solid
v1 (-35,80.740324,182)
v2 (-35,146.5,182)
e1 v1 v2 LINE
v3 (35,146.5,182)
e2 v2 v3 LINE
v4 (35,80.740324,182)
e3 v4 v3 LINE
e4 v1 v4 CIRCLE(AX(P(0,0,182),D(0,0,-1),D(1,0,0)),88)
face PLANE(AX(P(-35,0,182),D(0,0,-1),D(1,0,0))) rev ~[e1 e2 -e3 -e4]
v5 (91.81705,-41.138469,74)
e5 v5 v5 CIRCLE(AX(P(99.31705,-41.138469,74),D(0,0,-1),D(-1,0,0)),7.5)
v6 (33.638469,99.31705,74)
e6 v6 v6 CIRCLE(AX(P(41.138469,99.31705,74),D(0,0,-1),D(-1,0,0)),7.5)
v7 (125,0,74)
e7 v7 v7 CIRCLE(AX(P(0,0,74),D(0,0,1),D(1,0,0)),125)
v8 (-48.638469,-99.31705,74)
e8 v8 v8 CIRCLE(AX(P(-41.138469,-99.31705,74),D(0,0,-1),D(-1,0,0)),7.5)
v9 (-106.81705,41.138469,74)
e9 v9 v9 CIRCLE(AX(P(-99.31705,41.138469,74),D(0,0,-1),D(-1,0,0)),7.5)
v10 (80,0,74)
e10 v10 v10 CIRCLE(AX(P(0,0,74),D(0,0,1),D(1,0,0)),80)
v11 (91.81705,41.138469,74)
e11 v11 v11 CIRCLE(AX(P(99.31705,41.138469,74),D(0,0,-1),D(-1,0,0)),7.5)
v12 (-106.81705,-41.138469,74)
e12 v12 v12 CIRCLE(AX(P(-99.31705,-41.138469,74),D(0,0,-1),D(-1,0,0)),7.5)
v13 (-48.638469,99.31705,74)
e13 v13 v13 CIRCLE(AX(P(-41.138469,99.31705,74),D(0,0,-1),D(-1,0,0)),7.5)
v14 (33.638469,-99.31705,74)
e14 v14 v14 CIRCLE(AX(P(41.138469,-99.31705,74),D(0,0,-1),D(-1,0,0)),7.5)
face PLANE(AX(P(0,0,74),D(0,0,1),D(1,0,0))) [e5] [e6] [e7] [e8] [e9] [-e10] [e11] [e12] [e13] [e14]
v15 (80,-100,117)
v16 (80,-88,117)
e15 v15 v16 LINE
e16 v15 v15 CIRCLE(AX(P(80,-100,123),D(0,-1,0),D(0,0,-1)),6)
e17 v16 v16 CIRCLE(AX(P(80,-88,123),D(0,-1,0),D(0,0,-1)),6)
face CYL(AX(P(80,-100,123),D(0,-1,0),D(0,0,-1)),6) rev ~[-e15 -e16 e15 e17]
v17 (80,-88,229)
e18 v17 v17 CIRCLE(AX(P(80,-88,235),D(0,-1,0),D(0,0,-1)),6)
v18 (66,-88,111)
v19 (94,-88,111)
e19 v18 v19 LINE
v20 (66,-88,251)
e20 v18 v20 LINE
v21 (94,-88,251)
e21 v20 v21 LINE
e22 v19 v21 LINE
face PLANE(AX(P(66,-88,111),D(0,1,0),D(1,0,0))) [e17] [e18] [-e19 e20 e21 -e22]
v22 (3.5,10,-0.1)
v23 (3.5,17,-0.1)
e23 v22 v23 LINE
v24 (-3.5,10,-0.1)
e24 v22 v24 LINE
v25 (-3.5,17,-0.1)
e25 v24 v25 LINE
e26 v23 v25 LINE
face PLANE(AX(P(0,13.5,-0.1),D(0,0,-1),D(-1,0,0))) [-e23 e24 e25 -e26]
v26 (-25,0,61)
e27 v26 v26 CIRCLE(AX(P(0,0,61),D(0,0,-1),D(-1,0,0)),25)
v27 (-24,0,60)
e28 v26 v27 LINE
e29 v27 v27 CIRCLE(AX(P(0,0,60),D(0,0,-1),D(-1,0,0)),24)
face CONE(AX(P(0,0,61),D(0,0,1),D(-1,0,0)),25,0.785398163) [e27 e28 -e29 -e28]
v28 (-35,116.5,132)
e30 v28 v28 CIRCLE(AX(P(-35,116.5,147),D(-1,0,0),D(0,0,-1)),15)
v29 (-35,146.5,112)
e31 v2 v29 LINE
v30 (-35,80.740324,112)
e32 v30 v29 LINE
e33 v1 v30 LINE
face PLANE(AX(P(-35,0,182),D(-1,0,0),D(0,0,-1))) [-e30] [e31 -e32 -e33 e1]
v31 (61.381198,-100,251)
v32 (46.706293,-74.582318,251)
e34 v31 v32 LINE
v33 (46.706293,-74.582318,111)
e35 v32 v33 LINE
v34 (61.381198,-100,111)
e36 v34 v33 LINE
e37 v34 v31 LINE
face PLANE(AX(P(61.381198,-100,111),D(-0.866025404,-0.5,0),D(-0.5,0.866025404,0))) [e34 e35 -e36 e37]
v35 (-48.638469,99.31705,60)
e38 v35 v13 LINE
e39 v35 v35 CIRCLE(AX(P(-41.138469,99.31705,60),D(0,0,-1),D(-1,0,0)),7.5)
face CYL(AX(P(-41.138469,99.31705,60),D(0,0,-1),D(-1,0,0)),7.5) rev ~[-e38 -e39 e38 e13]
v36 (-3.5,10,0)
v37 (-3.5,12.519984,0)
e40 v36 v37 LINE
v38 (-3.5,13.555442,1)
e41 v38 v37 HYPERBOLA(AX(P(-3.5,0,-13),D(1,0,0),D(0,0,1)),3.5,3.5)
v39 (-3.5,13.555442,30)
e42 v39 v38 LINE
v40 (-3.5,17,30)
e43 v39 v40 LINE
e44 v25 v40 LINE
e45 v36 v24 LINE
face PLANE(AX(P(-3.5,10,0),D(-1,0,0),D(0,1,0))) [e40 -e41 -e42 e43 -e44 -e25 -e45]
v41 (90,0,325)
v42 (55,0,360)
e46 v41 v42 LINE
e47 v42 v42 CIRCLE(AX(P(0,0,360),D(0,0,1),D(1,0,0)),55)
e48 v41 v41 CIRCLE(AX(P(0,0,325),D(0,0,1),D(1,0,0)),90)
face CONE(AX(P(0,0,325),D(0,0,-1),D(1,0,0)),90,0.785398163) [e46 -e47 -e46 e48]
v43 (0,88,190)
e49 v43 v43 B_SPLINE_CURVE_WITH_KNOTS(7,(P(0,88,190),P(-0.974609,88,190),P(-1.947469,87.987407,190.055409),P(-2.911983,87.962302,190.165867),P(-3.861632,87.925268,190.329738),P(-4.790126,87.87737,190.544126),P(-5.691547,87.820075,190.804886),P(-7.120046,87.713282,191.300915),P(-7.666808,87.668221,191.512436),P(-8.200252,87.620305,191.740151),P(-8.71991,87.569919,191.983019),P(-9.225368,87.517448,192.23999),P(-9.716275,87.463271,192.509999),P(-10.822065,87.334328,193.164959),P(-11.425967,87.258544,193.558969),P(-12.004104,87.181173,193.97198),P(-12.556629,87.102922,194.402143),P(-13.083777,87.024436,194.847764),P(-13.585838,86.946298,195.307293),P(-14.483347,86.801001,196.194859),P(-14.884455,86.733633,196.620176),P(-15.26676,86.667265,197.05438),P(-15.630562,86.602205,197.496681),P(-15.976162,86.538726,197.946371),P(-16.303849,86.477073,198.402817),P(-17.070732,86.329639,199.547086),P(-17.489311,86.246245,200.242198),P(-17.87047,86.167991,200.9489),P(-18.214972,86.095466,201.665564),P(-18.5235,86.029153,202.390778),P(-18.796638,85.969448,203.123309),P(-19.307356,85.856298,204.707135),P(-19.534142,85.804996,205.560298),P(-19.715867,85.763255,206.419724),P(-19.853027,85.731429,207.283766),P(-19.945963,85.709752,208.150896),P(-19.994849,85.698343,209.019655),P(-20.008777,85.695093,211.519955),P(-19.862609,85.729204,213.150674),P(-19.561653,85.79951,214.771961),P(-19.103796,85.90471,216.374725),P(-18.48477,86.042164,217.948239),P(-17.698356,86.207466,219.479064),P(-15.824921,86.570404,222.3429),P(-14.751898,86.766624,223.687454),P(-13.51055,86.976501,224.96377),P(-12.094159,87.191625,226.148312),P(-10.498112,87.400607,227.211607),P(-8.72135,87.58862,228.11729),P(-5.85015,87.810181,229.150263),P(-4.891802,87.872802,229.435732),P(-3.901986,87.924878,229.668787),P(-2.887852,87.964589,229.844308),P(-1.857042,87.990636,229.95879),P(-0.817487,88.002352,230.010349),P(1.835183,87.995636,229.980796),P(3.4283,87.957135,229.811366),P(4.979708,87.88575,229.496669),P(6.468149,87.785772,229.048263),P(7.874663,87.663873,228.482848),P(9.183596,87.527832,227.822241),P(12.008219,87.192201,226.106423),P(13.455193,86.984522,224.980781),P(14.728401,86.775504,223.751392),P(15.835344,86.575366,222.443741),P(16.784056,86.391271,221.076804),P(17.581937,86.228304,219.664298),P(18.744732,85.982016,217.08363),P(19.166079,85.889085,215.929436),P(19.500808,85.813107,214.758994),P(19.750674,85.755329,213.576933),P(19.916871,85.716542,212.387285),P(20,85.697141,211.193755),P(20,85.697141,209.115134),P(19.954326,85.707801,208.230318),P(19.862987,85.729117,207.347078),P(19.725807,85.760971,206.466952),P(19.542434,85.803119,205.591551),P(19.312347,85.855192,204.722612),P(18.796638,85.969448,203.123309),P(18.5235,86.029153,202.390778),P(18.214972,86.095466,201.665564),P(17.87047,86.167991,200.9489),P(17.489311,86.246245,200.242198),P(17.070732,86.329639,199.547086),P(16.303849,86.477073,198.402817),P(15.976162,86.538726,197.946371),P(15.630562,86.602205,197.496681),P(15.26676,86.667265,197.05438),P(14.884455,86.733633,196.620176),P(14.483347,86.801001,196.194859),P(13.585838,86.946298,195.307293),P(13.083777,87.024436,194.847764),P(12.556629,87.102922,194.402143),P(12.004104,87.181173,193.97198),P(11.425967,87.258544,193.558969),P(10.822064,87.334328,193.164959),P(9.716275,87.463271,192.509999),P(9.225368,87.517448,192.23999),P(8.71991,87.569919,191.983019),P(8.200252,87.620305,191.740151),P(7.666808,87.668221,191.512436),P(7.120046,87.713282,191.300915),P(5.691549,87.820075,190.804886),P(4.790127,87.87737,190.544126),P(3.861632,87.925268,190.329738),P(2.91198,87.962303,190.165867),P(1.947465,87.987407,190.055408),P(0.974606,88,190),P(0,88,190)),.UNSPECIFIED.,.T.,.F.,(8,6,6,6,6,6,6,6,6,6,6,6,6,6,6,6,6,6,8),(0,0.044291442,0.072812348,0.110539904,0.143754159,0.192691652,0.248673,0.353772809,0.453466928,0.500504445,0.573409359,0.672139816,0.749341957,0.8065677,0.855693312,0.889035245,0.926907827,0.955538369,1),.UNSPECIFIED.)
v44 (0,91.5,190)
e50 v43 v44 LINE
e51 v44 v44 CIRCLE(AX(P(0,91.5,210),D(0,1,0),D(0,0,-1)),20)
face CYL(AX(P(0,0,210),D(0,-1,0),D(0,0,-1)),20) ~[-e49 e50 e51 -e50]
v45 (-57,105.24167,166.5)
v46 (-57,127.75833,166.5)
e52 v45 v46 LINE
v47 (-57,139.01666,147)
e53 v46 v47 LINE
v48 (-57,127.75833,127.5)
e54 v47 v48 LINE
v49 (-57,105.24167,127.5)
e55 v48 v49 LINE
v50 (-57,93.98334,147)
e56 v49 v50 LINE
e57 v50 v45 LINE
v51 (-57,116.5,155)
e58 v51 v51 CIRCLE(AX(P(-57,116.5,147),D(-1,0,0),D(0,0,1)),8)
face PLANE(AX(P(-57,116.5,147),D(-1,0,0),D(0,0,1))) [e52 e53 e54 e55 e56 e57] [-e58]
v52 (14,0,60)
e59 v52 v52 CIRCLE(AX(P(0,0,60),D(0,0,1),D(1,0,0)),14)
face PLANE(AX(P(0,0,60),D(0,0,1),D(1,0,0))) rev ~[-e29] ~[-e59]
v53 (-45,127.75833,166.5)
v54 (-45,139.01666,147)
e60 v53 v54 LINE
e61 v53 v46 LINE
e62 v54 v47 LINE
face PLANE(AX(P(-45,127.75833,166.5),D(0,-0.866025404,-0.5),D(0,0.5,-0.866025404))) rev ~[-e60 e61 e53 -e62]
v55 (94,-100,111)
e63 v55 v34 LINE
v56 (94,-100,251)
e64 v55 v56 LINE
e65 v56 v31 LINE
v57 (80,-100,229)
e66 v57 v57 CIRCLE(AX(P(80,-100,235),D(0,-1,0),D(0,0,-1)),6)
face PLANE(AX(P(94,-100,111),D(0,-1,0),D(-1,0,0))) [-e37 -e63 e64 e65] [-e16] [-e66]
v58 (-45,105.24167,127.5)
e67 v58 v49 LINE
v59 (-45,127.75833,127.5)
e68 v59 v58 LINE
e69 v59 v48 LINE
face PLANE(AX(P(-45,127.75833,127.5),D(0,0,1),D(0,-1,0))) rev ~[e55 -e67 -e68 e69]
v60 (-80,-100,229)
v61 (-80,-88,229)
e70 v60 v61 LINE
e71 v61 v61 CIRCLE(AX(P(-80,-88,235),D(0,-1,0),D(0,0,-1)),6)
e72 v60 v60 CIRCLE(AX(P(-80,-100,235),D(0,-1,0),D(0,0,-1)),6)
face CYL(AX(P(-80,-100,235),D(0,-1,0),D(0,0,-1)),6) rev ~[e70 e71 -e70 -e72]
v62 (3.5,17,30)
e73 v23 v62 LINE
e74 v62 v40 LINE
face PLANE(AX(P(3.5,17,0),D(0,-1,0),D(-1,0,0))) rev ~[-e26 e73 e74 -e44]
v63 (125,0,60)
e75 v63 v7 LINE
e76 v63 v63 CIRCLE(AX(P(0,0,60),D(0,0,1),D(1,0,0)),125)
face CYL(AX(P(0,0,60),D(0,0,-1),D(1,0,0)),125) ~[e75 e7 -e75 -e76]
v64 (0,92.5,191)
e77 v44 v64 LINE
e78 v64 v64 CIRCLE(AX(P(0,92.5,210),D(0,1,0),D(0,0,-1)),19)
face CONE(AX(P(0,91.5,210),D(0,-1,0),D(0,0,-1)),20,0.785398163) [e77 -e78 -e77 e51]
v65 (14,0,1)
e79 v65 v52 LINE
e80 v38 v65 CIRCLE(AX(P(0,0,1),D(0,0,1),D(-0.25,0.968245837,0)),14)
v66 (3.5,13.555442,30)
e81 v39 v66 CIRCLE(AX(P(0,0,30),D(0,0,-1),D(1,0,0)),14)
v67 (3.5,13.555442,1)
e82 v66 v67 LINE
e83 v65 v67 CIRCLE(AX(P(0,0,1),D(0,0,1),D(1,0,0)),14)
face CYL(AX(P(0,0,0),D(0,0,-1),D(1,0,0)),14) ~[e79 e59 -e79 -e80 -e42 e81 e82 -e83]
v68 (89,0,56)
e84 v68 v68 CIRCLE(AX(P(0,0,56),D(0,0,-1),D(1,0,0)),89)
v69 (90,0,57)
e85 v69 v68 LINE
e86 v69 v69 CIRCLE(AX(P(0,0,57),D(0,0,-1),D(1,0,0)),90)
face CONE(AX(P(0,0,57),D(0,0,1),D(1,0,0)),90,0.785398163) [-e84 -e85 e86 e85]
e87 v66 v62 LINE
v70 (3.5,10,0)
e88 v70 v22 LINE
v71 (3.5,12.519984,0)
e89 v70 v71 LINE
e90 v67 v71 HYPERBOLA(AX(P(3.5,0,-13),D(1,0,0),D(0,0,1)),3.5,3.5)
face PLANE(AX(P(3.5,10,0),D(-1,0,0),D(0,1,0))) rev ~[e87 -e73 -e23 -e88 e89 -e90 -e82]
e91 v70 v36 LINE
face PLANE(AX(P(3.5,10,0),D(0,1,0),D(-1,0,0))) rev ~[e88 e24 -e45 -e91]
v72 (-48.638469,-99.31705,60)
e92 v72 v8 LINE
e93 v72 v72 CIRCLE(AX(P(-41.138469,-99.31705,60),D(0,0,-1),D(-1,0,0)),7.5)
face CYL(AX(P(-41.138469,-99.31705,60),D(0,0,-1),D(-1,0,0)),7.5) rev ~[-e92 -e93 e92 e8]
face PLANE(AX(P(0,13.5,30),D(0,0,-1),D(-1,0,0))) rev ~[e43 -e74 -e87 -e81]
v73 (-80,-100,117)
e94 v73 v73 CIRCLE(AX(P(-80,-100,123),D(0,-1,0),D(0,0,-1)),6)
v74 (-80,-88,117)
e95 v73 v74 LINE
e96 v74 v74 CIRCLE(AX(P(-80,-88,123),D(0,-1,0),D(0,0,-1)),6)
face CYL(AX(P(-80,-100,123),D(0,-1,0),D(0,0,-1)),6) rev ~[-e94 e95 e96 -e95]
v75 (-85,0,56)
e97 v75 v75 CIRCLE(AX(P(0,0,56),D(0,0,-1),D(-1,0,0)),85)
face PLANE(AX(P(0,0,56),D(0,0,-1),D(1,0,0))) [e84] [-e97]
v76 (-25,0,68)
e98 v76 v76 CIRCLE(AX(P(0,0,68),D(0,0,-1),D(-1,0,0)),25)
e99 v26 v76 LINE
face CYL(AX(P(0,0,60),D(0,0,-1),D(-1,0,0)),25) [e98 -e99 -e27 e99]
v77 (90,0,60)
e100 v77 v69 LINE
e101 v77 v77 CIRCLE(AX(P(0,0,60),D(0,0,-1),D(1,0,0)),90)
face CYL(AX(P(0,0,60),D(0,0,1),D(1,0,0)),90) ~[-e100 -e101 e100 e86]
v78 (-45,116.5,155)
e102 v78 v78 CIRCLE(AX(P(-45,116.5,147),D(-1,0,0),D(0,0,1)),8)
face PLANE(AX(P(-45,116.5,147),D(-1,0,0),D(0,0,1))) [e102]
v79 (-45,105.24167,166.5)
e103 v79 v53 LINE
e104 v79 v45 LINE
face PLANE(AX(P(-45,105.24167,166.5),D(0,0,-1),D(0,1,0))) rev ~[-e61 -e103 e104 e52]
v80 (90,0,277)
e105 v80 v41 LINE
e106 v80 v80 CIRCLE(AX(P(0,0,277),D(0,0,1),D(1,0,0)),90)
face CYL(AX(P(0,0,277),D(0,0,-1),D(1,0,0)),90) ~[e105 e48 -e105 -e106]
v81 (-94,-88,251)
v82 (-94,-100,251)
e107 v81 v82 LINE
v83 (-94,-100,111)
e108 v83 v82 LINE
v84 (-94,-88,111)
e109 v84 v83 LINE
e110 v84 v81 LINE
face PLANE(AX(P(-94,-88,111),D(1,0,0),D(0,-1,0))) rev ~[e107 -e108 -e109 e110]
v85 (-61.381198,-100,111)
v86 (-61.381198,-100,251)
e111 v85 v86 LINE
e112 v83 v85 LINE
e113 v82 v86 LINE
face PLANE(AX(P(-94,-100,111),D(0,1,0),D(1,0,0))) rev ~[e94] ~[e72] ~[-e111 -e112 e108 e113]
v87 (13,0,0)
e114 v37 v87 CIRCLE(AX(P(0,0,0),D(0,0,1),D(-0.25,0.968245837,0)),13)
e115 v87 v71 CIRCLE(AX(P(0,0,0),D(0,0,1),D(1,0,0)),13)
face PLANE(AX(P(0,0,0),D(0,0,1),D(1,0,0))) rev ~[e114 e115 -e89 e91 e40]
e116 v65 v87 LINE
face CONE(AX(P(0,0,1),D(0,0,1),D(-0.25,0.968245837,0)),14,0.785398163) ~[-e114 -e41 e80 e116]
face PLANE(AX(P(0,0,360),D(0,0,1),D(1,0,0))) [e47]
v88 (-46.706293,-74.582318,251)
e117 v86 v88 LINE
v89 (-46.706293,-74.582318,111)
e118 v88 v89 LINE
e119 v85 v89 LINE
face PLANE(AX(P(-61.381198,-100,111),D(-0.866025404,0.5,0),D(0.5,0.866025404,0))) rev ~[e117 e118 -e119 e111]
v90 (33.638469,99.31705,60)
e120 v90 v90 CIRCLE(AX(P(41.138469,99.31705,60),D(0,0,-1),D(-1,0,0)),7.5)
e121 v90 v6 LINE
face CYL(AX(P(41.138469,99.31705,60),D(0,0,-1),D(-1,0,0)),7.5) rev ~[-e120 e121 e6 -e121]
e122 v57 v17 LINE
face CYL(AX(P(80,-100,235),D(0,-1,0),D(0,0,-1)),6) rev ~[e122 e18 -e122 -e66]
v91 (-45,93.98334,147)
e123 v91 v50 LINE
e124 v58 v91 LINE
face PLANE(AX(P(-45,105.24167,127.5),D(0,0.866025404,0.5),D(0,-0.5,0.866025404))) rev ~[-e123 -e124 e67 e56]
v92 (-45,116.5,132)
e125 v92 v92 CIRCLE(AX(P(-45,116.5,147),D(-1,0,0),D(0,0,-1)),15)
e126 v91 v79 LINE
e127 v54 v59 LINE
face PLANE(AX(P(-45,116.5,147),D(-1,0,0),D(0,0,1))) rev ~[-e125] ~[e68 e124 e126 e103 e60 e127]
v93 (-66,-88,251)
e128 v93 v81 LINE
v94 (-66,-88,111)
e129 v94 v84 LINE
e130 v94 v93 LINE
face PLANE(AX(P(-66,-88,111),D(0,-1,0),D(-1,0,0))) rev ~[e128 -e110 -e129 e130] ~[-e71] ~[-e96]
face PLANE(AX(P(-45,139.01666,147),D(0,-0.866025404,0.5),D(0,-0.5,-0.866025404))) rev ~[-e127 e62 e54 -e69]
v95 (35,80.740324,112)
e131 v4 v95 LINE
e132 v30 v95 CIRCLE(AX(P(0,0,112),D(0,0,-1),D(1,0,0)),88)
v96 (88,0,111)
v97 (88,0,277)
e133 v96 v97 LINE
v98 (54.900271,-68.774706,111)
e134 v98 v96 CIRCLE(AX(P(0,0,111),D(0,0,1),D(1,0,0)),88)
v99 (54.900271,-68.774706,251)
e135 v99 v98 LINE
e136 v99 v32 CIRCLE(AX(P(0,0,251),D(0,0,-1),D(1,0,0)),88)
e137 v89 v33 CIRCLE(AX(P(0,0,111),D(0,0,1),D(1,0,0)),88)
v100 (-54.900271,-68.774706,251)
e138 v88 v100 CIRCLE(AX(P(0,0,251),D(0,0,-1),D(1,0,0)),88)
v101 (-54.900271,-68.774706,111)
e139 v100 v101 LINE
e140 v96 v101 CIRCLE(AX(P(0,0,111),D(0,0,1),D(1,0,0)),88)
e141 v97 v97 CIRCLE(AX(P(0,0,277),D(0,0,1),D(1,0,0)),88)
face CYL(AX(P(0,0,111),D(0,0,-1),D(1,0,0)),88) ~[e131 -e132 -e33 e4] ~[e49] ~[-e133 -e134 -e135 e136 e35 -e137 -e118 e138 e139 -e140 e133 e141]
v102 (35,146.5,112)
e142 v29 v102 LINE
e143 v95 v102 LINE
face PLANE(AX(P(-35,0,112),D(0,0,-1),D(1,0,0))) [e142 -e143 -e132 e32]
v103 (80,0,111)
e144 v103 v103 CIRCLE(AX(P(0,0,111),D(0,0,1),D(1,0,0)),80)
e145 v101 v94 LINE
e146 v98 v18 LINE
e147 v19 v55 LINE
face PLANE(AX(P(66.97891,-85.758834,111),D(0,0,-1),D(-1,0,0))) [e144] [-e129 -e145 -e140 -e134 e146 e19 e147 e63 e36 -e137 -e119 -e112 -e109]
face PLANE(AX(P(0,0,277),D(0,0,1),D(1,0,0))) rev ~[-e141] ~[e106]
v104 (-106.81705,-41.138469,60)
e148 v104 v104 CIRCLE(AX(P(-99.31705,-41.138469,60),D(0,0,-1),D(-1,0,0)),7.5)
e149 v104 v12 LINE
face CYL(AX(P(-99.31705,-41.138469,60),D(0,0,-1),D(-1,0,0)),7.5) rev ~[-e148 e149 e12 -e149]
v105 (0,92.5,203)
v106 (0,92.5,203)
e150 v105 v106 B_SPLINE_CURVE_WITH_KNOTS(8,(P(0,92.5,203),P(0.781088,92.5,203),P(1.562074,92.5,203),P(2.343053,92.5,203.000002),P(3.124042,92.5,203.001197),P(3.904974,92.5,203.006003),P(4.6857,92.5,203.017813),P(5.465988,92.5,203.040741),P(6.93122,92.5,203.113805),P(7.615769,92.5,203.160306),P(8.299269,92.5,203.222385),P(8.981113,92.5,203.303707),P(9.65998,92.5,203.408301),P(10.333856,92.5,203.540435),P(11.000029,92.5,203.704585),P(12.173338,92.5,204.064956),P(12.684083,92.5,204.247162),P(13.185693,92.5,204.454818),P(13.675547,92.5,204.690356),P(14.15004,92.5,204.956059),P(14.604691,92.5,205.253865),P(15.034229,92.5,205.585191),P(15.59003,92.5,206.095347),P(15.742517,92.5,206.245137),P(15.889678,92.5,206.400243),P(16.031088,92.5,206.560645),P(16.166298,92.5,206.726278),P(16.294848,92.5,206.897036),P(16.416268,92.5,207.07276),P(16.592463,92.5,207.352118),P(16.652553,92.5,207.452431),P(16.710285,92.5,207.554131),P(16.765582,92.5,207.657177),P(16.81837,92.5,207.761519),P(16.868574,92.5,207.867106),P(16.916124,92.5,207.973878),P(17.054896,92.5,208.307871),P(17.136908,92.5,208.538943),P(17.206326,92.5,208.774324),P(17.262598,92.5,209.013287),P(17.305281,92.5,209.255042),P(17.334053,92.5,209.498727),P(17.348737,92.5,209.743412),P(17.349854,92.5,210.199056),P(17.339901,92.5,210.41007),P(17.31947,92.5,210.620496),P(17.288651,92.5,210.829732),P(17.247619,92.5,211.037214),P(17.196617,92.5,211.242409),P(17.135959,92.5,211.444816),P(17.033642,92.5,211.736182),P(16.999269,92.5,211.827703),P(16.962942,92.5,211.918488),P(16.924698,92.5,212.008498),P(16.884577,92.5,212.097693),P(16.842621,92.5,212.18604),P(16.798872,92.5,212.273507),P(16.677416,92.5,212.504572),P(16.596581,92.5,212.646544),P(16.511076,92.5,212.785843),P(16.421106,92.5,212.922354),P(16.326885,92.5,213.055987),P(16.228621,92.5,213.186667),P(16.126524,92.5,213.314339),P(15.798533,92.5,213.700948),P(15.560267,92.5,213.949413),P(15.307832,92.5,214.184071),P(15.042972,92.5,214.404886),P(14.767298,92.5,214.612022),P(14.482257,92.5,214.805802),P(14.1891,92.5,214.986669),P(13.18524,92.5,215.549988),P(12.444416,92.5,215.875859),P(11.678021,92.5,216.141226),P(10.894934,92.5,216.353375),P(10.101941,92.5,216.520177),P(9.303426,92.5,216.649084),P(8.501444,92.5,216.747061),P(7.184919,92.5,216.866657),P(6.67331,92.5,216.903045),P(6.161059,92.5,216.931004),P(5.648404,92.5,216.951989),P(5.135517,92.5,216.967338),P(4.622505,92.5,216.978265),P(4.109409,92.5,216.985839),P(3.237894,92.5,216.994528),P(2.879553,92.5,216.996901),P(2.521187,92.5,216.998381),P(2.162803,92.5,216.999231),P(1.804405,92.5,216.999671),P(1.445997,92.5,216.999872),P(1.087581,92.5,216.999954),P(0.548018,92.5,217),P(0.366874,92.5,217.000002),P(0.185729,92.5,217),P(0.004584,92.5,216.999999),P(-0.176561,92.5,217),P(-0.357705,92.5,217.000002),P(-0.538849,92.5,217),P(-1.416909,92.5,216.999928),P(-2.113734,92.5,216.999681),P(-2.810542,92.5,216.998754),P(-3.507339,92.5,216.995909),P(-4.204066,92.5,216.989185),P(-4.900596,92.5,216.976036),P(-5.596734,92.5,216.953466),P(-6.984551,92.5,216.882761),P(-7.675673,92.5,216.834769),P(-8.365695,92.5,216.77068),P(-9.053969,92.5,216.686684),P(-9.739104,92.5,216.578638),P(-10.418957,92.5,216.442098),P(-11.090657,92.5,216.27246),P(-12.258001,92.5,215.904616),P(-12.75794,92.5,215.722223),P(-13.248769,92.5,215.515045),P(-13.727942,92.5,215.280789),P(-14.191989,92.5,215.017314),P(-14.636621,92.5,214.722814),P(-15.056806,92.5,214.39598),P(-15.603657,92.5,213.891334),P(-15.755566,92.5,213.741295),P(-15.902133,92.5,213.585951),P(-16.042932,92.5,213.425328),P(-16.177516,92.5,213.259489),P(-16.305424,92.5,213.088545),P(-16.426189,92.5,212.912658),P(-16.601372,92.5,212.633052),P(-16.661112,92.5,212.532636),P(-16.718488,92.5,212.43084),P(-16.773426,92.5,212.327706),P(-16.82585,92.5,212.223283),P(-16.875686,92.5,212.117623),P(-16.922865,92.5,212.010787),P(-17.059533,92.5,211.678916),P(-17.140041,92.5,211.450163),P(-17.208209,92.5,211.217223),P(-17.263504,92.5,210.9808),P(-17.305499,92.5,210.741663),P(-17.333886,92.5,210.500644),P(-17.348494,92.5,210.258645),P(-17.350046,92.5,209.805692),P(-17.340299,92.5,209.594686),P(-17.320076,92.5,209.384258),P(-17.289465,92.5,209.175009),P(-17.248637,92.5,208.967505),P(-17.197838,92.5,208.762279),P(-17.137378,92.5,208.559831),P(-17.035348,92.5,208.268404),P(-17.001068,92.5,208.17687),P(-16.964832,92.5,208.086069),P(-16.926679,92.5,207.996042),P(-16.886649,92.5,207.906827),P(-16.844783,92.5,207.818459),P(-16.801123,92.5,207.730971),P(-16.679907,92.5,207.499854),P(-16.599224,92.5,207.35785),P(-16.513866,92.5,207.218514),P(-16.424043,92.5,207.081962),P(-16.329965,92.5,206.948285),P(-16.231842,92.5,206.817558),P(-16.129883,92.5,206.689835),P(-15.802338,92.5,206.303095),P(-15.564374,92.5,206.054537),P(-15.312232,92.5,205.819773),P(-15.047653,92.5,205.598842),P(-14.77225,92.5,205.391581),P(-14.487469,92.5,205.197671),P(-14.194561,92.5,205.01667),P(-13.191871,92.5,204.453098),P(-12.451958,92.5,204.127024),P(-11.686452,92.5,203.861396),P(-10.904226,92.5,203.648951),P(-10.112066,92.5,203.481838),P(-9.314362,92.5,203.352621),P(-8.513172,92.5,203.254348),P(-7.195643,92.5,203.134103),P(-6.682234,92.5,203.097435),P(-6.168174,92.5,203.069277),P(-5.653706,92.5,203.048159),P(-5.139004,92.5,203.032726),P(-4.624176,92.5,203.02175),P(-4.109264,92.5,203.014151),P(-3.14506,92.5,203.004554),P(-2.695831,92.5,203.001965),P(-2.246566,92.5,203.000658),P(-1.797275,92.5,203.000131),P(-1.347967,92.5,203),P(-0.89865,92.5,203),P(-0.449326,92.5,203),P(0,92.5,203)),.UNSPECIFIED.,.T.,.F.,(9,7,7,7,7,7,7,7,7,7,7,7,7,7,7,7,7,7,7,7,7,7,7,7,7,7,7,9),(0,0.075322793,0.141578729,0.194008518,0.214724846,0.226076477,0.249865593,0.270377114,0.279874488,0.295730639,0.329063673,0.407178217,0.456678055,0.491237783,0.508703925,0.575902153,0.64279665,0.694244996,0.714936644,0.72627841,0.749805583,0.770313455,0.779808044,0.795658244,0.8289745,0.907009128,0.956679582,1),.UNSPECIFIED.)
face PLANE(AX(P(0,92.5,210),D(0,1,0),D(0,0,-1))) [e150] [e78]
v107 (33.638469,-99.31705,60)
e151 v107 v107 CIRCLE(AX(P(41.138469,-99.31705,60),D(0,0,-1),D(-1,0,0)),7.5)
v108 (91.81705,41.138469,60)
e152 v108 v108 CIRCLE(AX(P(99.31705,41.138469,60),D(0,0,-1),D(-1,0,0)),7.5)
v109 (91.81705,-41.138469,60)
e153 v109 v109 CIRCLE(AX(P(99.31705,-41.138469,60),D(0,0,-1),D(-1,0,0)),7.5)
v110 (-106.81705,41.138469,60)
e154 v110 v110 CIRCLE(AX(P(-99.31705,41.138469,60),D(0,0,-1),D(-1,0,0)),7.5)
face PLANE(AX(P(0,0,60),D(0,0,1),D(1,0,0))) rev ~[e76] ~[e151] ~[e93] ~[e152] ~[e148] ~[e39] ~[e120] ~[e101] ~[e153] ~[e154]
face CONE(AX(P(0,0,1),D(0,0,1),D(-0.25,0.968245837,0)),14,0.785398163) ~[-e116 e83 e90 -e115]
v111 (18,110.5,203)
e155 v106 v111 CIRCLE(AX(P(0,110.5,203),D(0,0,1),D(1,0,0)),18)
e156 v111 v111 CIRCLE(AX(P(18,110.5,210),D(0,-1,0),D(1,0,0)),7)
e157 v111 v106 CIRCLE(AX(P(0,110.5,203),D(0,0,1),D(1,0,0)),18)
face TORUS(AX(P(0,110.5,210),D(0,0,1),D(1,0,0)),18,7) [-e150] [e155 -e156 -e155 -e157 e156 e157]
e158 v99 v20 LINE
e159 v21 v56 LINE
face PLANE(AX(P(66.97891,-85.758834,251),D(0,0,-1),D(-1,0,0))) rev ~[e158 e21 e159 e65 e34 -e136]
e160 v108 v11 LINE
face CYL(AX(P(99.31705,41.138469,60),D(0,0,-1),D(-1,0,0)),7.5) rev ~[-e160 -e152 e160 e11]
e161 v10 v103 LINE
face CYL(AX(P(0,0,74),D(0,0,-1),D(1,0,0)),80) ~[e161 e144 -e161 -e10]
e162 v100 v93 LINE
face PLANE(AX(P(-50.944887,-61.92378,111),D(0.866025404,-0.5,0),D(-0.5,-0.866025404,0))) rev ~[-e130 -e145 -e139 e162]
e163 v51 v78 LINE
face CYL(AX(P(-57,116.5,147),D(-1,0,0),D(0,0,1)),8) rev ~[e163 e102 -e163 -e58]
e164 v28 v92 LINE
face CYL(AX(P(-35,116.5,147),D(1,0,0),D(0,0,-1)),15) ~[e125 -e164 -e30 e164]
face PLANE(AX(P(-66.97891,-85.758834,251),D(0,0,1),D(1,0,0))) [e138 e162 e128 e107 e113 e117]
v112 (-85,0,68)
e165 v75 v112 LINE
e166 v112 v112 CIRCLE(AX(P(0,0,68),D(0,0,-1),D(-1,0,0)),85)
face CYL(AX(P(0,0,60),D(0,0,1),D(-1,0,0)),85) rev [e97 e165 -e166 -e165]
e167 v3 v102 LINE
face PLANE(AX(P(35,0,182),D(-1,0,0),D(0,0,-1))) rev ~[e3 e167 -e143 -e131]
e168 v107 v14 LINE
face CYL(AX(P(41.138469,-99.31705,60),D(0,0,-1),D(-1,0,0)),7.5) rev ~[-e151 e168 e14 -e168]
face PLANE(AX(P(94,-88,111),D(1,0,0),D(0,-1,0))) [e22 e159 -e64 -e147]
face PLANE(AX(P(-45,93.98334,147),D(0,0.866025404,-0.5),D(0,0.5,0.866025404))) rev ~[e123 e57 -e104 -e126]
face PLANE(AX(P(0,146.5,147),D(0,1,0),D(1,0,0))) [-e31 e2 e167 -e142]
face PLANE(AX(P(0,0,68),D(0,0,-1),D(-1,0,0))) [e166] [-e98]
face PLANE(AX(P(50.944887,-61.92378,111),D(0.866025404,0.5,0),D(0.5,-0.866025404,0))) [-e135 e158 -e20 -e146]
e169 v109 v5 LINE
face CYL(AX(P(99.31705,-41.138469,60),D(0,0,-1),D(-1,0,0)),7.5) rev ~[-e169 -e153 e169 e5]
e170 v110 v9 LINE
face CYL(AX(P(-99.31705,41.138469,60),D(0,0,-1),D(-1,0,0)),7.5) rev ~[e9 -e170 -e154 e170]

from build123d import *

# Parameters (mm, degrees)
SKETCH_1_R           = 14
EXTRUDE_1_DEPTH      = 60
SKETCH_2_W           = 7
SKETCH_2_H           = 7
EXTRUDE_2_DEPTH      = 0.1
EXTRUDE_2_DEPTH_BACK = 30
SKETCH_3_R           = 125
EXTRUDE_3_DEPTH      = 14
SKETCH_4_R           = 90
SKETCH_4_R_2         = 85
EXTRUDE_4_DEPTH      = 4
SKETCH_5_R           = 85
SKETCH_5_R_2         = 25
CUT_EXTRUDE_1_DEPTH  = 8
CHAMFER_1_SIZE       = 1
SKETCH_6_R           = 7.5
CUT_EXTRUDE_2_DEPTH  = 15
SKETCH_7_R           = 80
EXTRUDE_5_DEPTH      = 37
SKETCH_8_R           = 88
EXTRUDE_6_DEPTH      = 166
SKETCH_9_R           = 90
EXTRUDE_7_DEPTH      = 83
CHAMFER_2_SIZE       = 35
EXTRUDE_8_DEPTH      = 140
CUT_EXTRUDE_3_REACH  = 227
SKETCH_11_R          = 6
SKETCH_12_W          = 70
SKETCH_12_H          = 70
EXTRUDE_9_DEPTH      = 146.5
SKETCH_13_R          = 20
EXTRUDE_10_DEPTH     = 92.5
CHAMFER_3_SIZE       = 1
SKETCH_15_R          = 7
SKETCH_16_R          = 15
EXTRUDE_11_DEPTH     = 10
EXTRUDE_12_DEPTH     = 12
SKETCH_18_R          = 8
CUT_EXTRUDE_4_DEPTH  = 12


with BuildPart() as part:
    # Эскиз1 → Вытянуть1 (new body)
    with BuildSketch(Plane.XY):
        Circle(SKETCH_1_R)
    extrude(amount=EXTRUDE_1_DEPTH)

    # Эскиз2 → Вытянуть2 (add, two sides)
    with BuildSketch(Plane(origin=(0, 0, 0), x_dir=(-1, 0, 0), z_dir=(0, 0, -1))) as extrude_2_sk:
        with Locations((0, 13.5)):
            Rectangle(SKETCH_2_W, SKETCH_2_H)
    extrude(amount=EXTRUDE_2_DEPTH)
    extrude(extrude_2_sk.sketch, amount=-EXTRUDE_2_DEPTH_BACK)

    # Эскиз3 → Вытянуть3 (add)
    with BuildSketch(Plane.XY.offset(60)):
        Circle(SKETCH_3_R)
    extrude(amount=EXTRUDE_3_DEPTH)

    # Эскиз4 → Вытянуть4 (add)
    with BuildSketch(Plane(origin=(0, 0, 60), x_dir=(-1, 0, 0), z_dir=(0, 0, -1))):
        with Locations(Location((0, 0, 0), (0, 0, 180))):  # turned: the seam where the file's is
            Circle(SKETCH_4_R)
        Circle(SKETCH_4_R_2, mode=Mode.SUBTRACT)
    extrude(amount=EXTRUDE_4_DEPTH)

    # Эскиз5 → Вырез-Вытянуть1 (cut)
    with BuildSketch(Plane(origin=(0, 0, 60), x_dir=(-1, 0, 0), z_dir=(0, 0, -1))):
        Circle(SKETCH_5_R)
        Circle(SKETCH_5_R_2, mode=Mode.SUBTRACT)
    extrude(amount=-CUT_EXTRUDE_1_DEPTH, mode=Mode.SUBTRACT)

    # Фаска1
    chamfer_1_edges = [part.edges().sort_by_distance(p)[0] for p in [
        (-90, 0, 56),
        (25, 0, 60),
        (-8.5732141, -11.067971811, 0),
    ]]
    chamfer(chamfer_1_edges, length=CHAMFER_1_SIZE)

    # Эскиз6 → Вырез-Вытянуть2 (cut, through all)
    with BuildSketch(Plane(origin=(0, 0, 60), x_dir=(-1, 0, 0), z_dir=(0, 0, -1))):
        with Locations((-41.138468979, 99.317049745)):
            Circle(SKETCH_6_R)
        with Locations((41.138468979, 99.317049745)):
            Circle(SKETCH_6_R)
        with Locations((99.317049745, 41.138468979)):
            Circle(SKETCH_6_R)
        with Locations((99.317049745, -41.138468979)):
            Circle(SKETCH_6_R)
        with Locations((41.138468979, -99.317049745)):
            Circle(SKETCH_6_R)
        with Locations((-41.138468979, -99.317049745)):
            Circle(SKETCH_6_R)
        with Locations((-99.317049745, -41.138468979)):
            Circle(SKETCH_6_R)
        with Locations((-99.317049745, 41.138468979)):
            Circle(SKETCH_6_R)
    extrude(amount=-CUT_EXTRUDE_2_DEPTH, mode=Mode.SUBTRACT)

    # Эскиз7 → Вытянуть5 (add)
    with BuildSketch(Plane.XY.offset(74)):
        Circle(SKETCH_7_R)
    extrude(amount=EXTRUDE_5_DEPTH)

    # Эскиз8 → Вытянуть6 (add)
    with BuildSketch(Plane.XY.offset(111)):
        Circle(SKETCH_8_R)
    extrude(amount=EXTRUDE_6_DEPTH)

    # Эскиз9 → Вытянуть7 (add)
    with BuildSketch(Plane.XY.offset(277)):
        Circle(SKETCH_9_R)
    extrude(amount=EXTRUDE_7_DEPTH)

    # Фаска2
    chamfer_2_edges = [part.edges().sort_by_distance(p)[0] for p in [
        (-90, 0, 360),
    ]]
    chamfer(chamfer_2_edges, length=CHAMFER_2_SIZE)

    # Эскиз10 → Вытянуть8 (add)
    with BuildSketch(Plane(origin=(0, 0, 111), x_dir=(-1, 0, 0), z_dir=(0, 0, -1))):
        Polygon((-94, -100), (-61.381197846, -100), (-42.28463326, -66.923779886), (-50.944887298, -61.923779886), (-66, -88), (-94, -88), align=None)
        Polygon((61.381197846, -100), (42.28463326, -66.923779886), (50.944887298, -61.923779886), (66, -88), (94, -88), (94, -100), align=None)
    extrude(amount=-EXTRUDE_8_DEPTH)

    # Эскиз11 → Вырез-Вытянуть3 (cut, up to next)
    with BuildSketch(Plane.XZ.offset(100), mode=Mode.PRIVATE) as cut_extrude_3_sk1:
        with Locations(Location((-80, 123, 0), (0, 0, 270))):  # turned: the seam where the file's is
            Circle(SKETCH_11_R)
    cut_extrude_3_tool1 = extrude(cut_extrude_3_sk1.sketch, amount=-CUT_EXTRUDE_3_REACH, mode=Mode.PRIVATE) & part.part
    add(cut_extrude_3_tool1.solids().sort_by_distance((-80, -100, 123))[0], mode=Mode.SUBTRACT)
    # Эскиз11 → Вырез-Вытянуть3 (cut, up to next)
    with BuildSketch(Plane.XZ.offset(100), mode=Mode.PRIVATE) as cut_extrude_3_sk2:
        with Locations(Location((80, 123, 0), (0, 0, 270))):  # turned: the seam where the file's is
            Circle(SKETCH_11_R)
    cut_extrude_3_tool2 = extrude(cut_extrude_3_sk2.sketch, amount=-CUT_EXTRUDE_3_REACH, mode=Mode.PRIVATE) & part.part
    add(cut_extrude_3_tool2.solids().sort_by_distance((80, -100, 123))[0], mode=Mode.SUBTRACT)
    # Эскиз11 → Вырез-Вытянуть3 (cut, up to next)
    with BuildSketch(Plane.XZ.offset(100), mode=Mode.PRIVATE) as cut_extrude_3_sk3:
        with Locations(Location((-80, 235, 0), (0, 0, 270))):  # turned: the seam where the file's is
            Circle(SKETCH_11_R)
    cut_extrude_3_tool3 = extrude(cut_extrude_3_sk3.sketch, amount=-CUT_EXTRUDE_3_REACH, mode=Mode.PRIVATE) & part.part
    add(cut_extrude_3_tool3.solids().sort_by_distance((-80, -100, 235))[0], mode=Mode.SUBTRACT)
    # Эскиз11 → Вырез-Вытянуть3 (cut, up to next)
    with BuildSketch(Plane.XZ.offset(100), mode=Mode.PRIVATE) as cut_extrude_3_sk4:
        with Locations(Location((80, 235, 0), (0, 0, 270))):  # turned: the seam where the file's is
            Circle(SKETCH_11_R)
    cut_extrude_3_tool4 = extrude(cut_extrude_3_sk4.sketch, amount=-CUT_EXTRUDE_3_REACH, mode=Mode.PRIVATE) & part.part
    add(cut_extrude_3_tool4.solids().sort_by_distance((80, -100, 235))[0], mode=Mode.SUBTRACT)

    # Эскиз12 → Вытянуть9 (add)
    with BuildSketch(Plane(origin=(0, 0, 0), x_dir=(1, 0, 0), z_dir=(0, 1, 0))):
        with Locations((0, -147)):
            Rectangle(SKETCH_12_W, SKETCH_12_H)
    extrude(amount=EXTRUDE_9_DEPTH)

    # Эскиз13 → Вытянуть10 (add)
    with BuildSketch(Plane(origin=(0, 0, 0), x_dir=(1, 0, 0), z_dir=(0, 1, 0))):
        with Locations(Location((0, -210, 0), (0, 0, 90))):  # turned: the seam where the file's is
            Circle(SKETCH_13_R)
    extrude(amount=EXTRUDE_10_DEPTH)

    # Фаска3
    chamfer_3_edges = [part.edges().sort_by_distance(p)[0] for p in [
        (0, 92.5, 230),
    ]]
    chamfer(chamfer_3_edges, length=CHAMFER_3_SIZE)

    # По траектории1: sweep along a path in Эскиз14
    with BuildLine(Plane.XY.offset(210)) as sweep_1_path:
        CenterArc((0, 110.5), 18, 0, 360)
    # Эскиз15 → По траектории1 (sweep)
    with BuildSketch(Plane(origin=(0, 0, 0), x_dir=(0, 0, -1), z_dir=(1, 0, 0))):
        with Locations((-210, 128.5)):
            Circle(SKETCH_15_R)
    sweep(path=sweep_1_path.line)

    # Эскиз16 → Вытянуть11 (add)
    with BuildSketch(Plane.ZY.offset(35)):
        with Locations(Location((147, 116.5, 0), (0, 0, 180))):  # turned: the seam where the file's is
            Circle(SKETCH_16_R)
    extrude(amount=EXTRUDE_11_DEPTH)

    # Эскиз17 → Вытянуть12 (add)
    with BuildSketch(Plane.ZY.offset(45)):
        Polygon((147, 139.016660498), (127.5, 127.758330249), (127.5, 105.241669751), (147, 93.983339502), (166.5, 105.241669751), (166.5, 127.758330249), align=None)
    extrude(amount=EXTRUDE_12_DEPTH)

    # Эскиз18 → Вырез-Вытянуть4 (cut)
    with BuildSketch(Plane.ZY.offset(57)):
        with Locations((147, 116.5)):
            Circle(SKETCH_18_R)
    extrude(amount=-CUT_EXTRUDE_4_DEPTH, mode=Mode.SUBTRACT)


solid = part.part
